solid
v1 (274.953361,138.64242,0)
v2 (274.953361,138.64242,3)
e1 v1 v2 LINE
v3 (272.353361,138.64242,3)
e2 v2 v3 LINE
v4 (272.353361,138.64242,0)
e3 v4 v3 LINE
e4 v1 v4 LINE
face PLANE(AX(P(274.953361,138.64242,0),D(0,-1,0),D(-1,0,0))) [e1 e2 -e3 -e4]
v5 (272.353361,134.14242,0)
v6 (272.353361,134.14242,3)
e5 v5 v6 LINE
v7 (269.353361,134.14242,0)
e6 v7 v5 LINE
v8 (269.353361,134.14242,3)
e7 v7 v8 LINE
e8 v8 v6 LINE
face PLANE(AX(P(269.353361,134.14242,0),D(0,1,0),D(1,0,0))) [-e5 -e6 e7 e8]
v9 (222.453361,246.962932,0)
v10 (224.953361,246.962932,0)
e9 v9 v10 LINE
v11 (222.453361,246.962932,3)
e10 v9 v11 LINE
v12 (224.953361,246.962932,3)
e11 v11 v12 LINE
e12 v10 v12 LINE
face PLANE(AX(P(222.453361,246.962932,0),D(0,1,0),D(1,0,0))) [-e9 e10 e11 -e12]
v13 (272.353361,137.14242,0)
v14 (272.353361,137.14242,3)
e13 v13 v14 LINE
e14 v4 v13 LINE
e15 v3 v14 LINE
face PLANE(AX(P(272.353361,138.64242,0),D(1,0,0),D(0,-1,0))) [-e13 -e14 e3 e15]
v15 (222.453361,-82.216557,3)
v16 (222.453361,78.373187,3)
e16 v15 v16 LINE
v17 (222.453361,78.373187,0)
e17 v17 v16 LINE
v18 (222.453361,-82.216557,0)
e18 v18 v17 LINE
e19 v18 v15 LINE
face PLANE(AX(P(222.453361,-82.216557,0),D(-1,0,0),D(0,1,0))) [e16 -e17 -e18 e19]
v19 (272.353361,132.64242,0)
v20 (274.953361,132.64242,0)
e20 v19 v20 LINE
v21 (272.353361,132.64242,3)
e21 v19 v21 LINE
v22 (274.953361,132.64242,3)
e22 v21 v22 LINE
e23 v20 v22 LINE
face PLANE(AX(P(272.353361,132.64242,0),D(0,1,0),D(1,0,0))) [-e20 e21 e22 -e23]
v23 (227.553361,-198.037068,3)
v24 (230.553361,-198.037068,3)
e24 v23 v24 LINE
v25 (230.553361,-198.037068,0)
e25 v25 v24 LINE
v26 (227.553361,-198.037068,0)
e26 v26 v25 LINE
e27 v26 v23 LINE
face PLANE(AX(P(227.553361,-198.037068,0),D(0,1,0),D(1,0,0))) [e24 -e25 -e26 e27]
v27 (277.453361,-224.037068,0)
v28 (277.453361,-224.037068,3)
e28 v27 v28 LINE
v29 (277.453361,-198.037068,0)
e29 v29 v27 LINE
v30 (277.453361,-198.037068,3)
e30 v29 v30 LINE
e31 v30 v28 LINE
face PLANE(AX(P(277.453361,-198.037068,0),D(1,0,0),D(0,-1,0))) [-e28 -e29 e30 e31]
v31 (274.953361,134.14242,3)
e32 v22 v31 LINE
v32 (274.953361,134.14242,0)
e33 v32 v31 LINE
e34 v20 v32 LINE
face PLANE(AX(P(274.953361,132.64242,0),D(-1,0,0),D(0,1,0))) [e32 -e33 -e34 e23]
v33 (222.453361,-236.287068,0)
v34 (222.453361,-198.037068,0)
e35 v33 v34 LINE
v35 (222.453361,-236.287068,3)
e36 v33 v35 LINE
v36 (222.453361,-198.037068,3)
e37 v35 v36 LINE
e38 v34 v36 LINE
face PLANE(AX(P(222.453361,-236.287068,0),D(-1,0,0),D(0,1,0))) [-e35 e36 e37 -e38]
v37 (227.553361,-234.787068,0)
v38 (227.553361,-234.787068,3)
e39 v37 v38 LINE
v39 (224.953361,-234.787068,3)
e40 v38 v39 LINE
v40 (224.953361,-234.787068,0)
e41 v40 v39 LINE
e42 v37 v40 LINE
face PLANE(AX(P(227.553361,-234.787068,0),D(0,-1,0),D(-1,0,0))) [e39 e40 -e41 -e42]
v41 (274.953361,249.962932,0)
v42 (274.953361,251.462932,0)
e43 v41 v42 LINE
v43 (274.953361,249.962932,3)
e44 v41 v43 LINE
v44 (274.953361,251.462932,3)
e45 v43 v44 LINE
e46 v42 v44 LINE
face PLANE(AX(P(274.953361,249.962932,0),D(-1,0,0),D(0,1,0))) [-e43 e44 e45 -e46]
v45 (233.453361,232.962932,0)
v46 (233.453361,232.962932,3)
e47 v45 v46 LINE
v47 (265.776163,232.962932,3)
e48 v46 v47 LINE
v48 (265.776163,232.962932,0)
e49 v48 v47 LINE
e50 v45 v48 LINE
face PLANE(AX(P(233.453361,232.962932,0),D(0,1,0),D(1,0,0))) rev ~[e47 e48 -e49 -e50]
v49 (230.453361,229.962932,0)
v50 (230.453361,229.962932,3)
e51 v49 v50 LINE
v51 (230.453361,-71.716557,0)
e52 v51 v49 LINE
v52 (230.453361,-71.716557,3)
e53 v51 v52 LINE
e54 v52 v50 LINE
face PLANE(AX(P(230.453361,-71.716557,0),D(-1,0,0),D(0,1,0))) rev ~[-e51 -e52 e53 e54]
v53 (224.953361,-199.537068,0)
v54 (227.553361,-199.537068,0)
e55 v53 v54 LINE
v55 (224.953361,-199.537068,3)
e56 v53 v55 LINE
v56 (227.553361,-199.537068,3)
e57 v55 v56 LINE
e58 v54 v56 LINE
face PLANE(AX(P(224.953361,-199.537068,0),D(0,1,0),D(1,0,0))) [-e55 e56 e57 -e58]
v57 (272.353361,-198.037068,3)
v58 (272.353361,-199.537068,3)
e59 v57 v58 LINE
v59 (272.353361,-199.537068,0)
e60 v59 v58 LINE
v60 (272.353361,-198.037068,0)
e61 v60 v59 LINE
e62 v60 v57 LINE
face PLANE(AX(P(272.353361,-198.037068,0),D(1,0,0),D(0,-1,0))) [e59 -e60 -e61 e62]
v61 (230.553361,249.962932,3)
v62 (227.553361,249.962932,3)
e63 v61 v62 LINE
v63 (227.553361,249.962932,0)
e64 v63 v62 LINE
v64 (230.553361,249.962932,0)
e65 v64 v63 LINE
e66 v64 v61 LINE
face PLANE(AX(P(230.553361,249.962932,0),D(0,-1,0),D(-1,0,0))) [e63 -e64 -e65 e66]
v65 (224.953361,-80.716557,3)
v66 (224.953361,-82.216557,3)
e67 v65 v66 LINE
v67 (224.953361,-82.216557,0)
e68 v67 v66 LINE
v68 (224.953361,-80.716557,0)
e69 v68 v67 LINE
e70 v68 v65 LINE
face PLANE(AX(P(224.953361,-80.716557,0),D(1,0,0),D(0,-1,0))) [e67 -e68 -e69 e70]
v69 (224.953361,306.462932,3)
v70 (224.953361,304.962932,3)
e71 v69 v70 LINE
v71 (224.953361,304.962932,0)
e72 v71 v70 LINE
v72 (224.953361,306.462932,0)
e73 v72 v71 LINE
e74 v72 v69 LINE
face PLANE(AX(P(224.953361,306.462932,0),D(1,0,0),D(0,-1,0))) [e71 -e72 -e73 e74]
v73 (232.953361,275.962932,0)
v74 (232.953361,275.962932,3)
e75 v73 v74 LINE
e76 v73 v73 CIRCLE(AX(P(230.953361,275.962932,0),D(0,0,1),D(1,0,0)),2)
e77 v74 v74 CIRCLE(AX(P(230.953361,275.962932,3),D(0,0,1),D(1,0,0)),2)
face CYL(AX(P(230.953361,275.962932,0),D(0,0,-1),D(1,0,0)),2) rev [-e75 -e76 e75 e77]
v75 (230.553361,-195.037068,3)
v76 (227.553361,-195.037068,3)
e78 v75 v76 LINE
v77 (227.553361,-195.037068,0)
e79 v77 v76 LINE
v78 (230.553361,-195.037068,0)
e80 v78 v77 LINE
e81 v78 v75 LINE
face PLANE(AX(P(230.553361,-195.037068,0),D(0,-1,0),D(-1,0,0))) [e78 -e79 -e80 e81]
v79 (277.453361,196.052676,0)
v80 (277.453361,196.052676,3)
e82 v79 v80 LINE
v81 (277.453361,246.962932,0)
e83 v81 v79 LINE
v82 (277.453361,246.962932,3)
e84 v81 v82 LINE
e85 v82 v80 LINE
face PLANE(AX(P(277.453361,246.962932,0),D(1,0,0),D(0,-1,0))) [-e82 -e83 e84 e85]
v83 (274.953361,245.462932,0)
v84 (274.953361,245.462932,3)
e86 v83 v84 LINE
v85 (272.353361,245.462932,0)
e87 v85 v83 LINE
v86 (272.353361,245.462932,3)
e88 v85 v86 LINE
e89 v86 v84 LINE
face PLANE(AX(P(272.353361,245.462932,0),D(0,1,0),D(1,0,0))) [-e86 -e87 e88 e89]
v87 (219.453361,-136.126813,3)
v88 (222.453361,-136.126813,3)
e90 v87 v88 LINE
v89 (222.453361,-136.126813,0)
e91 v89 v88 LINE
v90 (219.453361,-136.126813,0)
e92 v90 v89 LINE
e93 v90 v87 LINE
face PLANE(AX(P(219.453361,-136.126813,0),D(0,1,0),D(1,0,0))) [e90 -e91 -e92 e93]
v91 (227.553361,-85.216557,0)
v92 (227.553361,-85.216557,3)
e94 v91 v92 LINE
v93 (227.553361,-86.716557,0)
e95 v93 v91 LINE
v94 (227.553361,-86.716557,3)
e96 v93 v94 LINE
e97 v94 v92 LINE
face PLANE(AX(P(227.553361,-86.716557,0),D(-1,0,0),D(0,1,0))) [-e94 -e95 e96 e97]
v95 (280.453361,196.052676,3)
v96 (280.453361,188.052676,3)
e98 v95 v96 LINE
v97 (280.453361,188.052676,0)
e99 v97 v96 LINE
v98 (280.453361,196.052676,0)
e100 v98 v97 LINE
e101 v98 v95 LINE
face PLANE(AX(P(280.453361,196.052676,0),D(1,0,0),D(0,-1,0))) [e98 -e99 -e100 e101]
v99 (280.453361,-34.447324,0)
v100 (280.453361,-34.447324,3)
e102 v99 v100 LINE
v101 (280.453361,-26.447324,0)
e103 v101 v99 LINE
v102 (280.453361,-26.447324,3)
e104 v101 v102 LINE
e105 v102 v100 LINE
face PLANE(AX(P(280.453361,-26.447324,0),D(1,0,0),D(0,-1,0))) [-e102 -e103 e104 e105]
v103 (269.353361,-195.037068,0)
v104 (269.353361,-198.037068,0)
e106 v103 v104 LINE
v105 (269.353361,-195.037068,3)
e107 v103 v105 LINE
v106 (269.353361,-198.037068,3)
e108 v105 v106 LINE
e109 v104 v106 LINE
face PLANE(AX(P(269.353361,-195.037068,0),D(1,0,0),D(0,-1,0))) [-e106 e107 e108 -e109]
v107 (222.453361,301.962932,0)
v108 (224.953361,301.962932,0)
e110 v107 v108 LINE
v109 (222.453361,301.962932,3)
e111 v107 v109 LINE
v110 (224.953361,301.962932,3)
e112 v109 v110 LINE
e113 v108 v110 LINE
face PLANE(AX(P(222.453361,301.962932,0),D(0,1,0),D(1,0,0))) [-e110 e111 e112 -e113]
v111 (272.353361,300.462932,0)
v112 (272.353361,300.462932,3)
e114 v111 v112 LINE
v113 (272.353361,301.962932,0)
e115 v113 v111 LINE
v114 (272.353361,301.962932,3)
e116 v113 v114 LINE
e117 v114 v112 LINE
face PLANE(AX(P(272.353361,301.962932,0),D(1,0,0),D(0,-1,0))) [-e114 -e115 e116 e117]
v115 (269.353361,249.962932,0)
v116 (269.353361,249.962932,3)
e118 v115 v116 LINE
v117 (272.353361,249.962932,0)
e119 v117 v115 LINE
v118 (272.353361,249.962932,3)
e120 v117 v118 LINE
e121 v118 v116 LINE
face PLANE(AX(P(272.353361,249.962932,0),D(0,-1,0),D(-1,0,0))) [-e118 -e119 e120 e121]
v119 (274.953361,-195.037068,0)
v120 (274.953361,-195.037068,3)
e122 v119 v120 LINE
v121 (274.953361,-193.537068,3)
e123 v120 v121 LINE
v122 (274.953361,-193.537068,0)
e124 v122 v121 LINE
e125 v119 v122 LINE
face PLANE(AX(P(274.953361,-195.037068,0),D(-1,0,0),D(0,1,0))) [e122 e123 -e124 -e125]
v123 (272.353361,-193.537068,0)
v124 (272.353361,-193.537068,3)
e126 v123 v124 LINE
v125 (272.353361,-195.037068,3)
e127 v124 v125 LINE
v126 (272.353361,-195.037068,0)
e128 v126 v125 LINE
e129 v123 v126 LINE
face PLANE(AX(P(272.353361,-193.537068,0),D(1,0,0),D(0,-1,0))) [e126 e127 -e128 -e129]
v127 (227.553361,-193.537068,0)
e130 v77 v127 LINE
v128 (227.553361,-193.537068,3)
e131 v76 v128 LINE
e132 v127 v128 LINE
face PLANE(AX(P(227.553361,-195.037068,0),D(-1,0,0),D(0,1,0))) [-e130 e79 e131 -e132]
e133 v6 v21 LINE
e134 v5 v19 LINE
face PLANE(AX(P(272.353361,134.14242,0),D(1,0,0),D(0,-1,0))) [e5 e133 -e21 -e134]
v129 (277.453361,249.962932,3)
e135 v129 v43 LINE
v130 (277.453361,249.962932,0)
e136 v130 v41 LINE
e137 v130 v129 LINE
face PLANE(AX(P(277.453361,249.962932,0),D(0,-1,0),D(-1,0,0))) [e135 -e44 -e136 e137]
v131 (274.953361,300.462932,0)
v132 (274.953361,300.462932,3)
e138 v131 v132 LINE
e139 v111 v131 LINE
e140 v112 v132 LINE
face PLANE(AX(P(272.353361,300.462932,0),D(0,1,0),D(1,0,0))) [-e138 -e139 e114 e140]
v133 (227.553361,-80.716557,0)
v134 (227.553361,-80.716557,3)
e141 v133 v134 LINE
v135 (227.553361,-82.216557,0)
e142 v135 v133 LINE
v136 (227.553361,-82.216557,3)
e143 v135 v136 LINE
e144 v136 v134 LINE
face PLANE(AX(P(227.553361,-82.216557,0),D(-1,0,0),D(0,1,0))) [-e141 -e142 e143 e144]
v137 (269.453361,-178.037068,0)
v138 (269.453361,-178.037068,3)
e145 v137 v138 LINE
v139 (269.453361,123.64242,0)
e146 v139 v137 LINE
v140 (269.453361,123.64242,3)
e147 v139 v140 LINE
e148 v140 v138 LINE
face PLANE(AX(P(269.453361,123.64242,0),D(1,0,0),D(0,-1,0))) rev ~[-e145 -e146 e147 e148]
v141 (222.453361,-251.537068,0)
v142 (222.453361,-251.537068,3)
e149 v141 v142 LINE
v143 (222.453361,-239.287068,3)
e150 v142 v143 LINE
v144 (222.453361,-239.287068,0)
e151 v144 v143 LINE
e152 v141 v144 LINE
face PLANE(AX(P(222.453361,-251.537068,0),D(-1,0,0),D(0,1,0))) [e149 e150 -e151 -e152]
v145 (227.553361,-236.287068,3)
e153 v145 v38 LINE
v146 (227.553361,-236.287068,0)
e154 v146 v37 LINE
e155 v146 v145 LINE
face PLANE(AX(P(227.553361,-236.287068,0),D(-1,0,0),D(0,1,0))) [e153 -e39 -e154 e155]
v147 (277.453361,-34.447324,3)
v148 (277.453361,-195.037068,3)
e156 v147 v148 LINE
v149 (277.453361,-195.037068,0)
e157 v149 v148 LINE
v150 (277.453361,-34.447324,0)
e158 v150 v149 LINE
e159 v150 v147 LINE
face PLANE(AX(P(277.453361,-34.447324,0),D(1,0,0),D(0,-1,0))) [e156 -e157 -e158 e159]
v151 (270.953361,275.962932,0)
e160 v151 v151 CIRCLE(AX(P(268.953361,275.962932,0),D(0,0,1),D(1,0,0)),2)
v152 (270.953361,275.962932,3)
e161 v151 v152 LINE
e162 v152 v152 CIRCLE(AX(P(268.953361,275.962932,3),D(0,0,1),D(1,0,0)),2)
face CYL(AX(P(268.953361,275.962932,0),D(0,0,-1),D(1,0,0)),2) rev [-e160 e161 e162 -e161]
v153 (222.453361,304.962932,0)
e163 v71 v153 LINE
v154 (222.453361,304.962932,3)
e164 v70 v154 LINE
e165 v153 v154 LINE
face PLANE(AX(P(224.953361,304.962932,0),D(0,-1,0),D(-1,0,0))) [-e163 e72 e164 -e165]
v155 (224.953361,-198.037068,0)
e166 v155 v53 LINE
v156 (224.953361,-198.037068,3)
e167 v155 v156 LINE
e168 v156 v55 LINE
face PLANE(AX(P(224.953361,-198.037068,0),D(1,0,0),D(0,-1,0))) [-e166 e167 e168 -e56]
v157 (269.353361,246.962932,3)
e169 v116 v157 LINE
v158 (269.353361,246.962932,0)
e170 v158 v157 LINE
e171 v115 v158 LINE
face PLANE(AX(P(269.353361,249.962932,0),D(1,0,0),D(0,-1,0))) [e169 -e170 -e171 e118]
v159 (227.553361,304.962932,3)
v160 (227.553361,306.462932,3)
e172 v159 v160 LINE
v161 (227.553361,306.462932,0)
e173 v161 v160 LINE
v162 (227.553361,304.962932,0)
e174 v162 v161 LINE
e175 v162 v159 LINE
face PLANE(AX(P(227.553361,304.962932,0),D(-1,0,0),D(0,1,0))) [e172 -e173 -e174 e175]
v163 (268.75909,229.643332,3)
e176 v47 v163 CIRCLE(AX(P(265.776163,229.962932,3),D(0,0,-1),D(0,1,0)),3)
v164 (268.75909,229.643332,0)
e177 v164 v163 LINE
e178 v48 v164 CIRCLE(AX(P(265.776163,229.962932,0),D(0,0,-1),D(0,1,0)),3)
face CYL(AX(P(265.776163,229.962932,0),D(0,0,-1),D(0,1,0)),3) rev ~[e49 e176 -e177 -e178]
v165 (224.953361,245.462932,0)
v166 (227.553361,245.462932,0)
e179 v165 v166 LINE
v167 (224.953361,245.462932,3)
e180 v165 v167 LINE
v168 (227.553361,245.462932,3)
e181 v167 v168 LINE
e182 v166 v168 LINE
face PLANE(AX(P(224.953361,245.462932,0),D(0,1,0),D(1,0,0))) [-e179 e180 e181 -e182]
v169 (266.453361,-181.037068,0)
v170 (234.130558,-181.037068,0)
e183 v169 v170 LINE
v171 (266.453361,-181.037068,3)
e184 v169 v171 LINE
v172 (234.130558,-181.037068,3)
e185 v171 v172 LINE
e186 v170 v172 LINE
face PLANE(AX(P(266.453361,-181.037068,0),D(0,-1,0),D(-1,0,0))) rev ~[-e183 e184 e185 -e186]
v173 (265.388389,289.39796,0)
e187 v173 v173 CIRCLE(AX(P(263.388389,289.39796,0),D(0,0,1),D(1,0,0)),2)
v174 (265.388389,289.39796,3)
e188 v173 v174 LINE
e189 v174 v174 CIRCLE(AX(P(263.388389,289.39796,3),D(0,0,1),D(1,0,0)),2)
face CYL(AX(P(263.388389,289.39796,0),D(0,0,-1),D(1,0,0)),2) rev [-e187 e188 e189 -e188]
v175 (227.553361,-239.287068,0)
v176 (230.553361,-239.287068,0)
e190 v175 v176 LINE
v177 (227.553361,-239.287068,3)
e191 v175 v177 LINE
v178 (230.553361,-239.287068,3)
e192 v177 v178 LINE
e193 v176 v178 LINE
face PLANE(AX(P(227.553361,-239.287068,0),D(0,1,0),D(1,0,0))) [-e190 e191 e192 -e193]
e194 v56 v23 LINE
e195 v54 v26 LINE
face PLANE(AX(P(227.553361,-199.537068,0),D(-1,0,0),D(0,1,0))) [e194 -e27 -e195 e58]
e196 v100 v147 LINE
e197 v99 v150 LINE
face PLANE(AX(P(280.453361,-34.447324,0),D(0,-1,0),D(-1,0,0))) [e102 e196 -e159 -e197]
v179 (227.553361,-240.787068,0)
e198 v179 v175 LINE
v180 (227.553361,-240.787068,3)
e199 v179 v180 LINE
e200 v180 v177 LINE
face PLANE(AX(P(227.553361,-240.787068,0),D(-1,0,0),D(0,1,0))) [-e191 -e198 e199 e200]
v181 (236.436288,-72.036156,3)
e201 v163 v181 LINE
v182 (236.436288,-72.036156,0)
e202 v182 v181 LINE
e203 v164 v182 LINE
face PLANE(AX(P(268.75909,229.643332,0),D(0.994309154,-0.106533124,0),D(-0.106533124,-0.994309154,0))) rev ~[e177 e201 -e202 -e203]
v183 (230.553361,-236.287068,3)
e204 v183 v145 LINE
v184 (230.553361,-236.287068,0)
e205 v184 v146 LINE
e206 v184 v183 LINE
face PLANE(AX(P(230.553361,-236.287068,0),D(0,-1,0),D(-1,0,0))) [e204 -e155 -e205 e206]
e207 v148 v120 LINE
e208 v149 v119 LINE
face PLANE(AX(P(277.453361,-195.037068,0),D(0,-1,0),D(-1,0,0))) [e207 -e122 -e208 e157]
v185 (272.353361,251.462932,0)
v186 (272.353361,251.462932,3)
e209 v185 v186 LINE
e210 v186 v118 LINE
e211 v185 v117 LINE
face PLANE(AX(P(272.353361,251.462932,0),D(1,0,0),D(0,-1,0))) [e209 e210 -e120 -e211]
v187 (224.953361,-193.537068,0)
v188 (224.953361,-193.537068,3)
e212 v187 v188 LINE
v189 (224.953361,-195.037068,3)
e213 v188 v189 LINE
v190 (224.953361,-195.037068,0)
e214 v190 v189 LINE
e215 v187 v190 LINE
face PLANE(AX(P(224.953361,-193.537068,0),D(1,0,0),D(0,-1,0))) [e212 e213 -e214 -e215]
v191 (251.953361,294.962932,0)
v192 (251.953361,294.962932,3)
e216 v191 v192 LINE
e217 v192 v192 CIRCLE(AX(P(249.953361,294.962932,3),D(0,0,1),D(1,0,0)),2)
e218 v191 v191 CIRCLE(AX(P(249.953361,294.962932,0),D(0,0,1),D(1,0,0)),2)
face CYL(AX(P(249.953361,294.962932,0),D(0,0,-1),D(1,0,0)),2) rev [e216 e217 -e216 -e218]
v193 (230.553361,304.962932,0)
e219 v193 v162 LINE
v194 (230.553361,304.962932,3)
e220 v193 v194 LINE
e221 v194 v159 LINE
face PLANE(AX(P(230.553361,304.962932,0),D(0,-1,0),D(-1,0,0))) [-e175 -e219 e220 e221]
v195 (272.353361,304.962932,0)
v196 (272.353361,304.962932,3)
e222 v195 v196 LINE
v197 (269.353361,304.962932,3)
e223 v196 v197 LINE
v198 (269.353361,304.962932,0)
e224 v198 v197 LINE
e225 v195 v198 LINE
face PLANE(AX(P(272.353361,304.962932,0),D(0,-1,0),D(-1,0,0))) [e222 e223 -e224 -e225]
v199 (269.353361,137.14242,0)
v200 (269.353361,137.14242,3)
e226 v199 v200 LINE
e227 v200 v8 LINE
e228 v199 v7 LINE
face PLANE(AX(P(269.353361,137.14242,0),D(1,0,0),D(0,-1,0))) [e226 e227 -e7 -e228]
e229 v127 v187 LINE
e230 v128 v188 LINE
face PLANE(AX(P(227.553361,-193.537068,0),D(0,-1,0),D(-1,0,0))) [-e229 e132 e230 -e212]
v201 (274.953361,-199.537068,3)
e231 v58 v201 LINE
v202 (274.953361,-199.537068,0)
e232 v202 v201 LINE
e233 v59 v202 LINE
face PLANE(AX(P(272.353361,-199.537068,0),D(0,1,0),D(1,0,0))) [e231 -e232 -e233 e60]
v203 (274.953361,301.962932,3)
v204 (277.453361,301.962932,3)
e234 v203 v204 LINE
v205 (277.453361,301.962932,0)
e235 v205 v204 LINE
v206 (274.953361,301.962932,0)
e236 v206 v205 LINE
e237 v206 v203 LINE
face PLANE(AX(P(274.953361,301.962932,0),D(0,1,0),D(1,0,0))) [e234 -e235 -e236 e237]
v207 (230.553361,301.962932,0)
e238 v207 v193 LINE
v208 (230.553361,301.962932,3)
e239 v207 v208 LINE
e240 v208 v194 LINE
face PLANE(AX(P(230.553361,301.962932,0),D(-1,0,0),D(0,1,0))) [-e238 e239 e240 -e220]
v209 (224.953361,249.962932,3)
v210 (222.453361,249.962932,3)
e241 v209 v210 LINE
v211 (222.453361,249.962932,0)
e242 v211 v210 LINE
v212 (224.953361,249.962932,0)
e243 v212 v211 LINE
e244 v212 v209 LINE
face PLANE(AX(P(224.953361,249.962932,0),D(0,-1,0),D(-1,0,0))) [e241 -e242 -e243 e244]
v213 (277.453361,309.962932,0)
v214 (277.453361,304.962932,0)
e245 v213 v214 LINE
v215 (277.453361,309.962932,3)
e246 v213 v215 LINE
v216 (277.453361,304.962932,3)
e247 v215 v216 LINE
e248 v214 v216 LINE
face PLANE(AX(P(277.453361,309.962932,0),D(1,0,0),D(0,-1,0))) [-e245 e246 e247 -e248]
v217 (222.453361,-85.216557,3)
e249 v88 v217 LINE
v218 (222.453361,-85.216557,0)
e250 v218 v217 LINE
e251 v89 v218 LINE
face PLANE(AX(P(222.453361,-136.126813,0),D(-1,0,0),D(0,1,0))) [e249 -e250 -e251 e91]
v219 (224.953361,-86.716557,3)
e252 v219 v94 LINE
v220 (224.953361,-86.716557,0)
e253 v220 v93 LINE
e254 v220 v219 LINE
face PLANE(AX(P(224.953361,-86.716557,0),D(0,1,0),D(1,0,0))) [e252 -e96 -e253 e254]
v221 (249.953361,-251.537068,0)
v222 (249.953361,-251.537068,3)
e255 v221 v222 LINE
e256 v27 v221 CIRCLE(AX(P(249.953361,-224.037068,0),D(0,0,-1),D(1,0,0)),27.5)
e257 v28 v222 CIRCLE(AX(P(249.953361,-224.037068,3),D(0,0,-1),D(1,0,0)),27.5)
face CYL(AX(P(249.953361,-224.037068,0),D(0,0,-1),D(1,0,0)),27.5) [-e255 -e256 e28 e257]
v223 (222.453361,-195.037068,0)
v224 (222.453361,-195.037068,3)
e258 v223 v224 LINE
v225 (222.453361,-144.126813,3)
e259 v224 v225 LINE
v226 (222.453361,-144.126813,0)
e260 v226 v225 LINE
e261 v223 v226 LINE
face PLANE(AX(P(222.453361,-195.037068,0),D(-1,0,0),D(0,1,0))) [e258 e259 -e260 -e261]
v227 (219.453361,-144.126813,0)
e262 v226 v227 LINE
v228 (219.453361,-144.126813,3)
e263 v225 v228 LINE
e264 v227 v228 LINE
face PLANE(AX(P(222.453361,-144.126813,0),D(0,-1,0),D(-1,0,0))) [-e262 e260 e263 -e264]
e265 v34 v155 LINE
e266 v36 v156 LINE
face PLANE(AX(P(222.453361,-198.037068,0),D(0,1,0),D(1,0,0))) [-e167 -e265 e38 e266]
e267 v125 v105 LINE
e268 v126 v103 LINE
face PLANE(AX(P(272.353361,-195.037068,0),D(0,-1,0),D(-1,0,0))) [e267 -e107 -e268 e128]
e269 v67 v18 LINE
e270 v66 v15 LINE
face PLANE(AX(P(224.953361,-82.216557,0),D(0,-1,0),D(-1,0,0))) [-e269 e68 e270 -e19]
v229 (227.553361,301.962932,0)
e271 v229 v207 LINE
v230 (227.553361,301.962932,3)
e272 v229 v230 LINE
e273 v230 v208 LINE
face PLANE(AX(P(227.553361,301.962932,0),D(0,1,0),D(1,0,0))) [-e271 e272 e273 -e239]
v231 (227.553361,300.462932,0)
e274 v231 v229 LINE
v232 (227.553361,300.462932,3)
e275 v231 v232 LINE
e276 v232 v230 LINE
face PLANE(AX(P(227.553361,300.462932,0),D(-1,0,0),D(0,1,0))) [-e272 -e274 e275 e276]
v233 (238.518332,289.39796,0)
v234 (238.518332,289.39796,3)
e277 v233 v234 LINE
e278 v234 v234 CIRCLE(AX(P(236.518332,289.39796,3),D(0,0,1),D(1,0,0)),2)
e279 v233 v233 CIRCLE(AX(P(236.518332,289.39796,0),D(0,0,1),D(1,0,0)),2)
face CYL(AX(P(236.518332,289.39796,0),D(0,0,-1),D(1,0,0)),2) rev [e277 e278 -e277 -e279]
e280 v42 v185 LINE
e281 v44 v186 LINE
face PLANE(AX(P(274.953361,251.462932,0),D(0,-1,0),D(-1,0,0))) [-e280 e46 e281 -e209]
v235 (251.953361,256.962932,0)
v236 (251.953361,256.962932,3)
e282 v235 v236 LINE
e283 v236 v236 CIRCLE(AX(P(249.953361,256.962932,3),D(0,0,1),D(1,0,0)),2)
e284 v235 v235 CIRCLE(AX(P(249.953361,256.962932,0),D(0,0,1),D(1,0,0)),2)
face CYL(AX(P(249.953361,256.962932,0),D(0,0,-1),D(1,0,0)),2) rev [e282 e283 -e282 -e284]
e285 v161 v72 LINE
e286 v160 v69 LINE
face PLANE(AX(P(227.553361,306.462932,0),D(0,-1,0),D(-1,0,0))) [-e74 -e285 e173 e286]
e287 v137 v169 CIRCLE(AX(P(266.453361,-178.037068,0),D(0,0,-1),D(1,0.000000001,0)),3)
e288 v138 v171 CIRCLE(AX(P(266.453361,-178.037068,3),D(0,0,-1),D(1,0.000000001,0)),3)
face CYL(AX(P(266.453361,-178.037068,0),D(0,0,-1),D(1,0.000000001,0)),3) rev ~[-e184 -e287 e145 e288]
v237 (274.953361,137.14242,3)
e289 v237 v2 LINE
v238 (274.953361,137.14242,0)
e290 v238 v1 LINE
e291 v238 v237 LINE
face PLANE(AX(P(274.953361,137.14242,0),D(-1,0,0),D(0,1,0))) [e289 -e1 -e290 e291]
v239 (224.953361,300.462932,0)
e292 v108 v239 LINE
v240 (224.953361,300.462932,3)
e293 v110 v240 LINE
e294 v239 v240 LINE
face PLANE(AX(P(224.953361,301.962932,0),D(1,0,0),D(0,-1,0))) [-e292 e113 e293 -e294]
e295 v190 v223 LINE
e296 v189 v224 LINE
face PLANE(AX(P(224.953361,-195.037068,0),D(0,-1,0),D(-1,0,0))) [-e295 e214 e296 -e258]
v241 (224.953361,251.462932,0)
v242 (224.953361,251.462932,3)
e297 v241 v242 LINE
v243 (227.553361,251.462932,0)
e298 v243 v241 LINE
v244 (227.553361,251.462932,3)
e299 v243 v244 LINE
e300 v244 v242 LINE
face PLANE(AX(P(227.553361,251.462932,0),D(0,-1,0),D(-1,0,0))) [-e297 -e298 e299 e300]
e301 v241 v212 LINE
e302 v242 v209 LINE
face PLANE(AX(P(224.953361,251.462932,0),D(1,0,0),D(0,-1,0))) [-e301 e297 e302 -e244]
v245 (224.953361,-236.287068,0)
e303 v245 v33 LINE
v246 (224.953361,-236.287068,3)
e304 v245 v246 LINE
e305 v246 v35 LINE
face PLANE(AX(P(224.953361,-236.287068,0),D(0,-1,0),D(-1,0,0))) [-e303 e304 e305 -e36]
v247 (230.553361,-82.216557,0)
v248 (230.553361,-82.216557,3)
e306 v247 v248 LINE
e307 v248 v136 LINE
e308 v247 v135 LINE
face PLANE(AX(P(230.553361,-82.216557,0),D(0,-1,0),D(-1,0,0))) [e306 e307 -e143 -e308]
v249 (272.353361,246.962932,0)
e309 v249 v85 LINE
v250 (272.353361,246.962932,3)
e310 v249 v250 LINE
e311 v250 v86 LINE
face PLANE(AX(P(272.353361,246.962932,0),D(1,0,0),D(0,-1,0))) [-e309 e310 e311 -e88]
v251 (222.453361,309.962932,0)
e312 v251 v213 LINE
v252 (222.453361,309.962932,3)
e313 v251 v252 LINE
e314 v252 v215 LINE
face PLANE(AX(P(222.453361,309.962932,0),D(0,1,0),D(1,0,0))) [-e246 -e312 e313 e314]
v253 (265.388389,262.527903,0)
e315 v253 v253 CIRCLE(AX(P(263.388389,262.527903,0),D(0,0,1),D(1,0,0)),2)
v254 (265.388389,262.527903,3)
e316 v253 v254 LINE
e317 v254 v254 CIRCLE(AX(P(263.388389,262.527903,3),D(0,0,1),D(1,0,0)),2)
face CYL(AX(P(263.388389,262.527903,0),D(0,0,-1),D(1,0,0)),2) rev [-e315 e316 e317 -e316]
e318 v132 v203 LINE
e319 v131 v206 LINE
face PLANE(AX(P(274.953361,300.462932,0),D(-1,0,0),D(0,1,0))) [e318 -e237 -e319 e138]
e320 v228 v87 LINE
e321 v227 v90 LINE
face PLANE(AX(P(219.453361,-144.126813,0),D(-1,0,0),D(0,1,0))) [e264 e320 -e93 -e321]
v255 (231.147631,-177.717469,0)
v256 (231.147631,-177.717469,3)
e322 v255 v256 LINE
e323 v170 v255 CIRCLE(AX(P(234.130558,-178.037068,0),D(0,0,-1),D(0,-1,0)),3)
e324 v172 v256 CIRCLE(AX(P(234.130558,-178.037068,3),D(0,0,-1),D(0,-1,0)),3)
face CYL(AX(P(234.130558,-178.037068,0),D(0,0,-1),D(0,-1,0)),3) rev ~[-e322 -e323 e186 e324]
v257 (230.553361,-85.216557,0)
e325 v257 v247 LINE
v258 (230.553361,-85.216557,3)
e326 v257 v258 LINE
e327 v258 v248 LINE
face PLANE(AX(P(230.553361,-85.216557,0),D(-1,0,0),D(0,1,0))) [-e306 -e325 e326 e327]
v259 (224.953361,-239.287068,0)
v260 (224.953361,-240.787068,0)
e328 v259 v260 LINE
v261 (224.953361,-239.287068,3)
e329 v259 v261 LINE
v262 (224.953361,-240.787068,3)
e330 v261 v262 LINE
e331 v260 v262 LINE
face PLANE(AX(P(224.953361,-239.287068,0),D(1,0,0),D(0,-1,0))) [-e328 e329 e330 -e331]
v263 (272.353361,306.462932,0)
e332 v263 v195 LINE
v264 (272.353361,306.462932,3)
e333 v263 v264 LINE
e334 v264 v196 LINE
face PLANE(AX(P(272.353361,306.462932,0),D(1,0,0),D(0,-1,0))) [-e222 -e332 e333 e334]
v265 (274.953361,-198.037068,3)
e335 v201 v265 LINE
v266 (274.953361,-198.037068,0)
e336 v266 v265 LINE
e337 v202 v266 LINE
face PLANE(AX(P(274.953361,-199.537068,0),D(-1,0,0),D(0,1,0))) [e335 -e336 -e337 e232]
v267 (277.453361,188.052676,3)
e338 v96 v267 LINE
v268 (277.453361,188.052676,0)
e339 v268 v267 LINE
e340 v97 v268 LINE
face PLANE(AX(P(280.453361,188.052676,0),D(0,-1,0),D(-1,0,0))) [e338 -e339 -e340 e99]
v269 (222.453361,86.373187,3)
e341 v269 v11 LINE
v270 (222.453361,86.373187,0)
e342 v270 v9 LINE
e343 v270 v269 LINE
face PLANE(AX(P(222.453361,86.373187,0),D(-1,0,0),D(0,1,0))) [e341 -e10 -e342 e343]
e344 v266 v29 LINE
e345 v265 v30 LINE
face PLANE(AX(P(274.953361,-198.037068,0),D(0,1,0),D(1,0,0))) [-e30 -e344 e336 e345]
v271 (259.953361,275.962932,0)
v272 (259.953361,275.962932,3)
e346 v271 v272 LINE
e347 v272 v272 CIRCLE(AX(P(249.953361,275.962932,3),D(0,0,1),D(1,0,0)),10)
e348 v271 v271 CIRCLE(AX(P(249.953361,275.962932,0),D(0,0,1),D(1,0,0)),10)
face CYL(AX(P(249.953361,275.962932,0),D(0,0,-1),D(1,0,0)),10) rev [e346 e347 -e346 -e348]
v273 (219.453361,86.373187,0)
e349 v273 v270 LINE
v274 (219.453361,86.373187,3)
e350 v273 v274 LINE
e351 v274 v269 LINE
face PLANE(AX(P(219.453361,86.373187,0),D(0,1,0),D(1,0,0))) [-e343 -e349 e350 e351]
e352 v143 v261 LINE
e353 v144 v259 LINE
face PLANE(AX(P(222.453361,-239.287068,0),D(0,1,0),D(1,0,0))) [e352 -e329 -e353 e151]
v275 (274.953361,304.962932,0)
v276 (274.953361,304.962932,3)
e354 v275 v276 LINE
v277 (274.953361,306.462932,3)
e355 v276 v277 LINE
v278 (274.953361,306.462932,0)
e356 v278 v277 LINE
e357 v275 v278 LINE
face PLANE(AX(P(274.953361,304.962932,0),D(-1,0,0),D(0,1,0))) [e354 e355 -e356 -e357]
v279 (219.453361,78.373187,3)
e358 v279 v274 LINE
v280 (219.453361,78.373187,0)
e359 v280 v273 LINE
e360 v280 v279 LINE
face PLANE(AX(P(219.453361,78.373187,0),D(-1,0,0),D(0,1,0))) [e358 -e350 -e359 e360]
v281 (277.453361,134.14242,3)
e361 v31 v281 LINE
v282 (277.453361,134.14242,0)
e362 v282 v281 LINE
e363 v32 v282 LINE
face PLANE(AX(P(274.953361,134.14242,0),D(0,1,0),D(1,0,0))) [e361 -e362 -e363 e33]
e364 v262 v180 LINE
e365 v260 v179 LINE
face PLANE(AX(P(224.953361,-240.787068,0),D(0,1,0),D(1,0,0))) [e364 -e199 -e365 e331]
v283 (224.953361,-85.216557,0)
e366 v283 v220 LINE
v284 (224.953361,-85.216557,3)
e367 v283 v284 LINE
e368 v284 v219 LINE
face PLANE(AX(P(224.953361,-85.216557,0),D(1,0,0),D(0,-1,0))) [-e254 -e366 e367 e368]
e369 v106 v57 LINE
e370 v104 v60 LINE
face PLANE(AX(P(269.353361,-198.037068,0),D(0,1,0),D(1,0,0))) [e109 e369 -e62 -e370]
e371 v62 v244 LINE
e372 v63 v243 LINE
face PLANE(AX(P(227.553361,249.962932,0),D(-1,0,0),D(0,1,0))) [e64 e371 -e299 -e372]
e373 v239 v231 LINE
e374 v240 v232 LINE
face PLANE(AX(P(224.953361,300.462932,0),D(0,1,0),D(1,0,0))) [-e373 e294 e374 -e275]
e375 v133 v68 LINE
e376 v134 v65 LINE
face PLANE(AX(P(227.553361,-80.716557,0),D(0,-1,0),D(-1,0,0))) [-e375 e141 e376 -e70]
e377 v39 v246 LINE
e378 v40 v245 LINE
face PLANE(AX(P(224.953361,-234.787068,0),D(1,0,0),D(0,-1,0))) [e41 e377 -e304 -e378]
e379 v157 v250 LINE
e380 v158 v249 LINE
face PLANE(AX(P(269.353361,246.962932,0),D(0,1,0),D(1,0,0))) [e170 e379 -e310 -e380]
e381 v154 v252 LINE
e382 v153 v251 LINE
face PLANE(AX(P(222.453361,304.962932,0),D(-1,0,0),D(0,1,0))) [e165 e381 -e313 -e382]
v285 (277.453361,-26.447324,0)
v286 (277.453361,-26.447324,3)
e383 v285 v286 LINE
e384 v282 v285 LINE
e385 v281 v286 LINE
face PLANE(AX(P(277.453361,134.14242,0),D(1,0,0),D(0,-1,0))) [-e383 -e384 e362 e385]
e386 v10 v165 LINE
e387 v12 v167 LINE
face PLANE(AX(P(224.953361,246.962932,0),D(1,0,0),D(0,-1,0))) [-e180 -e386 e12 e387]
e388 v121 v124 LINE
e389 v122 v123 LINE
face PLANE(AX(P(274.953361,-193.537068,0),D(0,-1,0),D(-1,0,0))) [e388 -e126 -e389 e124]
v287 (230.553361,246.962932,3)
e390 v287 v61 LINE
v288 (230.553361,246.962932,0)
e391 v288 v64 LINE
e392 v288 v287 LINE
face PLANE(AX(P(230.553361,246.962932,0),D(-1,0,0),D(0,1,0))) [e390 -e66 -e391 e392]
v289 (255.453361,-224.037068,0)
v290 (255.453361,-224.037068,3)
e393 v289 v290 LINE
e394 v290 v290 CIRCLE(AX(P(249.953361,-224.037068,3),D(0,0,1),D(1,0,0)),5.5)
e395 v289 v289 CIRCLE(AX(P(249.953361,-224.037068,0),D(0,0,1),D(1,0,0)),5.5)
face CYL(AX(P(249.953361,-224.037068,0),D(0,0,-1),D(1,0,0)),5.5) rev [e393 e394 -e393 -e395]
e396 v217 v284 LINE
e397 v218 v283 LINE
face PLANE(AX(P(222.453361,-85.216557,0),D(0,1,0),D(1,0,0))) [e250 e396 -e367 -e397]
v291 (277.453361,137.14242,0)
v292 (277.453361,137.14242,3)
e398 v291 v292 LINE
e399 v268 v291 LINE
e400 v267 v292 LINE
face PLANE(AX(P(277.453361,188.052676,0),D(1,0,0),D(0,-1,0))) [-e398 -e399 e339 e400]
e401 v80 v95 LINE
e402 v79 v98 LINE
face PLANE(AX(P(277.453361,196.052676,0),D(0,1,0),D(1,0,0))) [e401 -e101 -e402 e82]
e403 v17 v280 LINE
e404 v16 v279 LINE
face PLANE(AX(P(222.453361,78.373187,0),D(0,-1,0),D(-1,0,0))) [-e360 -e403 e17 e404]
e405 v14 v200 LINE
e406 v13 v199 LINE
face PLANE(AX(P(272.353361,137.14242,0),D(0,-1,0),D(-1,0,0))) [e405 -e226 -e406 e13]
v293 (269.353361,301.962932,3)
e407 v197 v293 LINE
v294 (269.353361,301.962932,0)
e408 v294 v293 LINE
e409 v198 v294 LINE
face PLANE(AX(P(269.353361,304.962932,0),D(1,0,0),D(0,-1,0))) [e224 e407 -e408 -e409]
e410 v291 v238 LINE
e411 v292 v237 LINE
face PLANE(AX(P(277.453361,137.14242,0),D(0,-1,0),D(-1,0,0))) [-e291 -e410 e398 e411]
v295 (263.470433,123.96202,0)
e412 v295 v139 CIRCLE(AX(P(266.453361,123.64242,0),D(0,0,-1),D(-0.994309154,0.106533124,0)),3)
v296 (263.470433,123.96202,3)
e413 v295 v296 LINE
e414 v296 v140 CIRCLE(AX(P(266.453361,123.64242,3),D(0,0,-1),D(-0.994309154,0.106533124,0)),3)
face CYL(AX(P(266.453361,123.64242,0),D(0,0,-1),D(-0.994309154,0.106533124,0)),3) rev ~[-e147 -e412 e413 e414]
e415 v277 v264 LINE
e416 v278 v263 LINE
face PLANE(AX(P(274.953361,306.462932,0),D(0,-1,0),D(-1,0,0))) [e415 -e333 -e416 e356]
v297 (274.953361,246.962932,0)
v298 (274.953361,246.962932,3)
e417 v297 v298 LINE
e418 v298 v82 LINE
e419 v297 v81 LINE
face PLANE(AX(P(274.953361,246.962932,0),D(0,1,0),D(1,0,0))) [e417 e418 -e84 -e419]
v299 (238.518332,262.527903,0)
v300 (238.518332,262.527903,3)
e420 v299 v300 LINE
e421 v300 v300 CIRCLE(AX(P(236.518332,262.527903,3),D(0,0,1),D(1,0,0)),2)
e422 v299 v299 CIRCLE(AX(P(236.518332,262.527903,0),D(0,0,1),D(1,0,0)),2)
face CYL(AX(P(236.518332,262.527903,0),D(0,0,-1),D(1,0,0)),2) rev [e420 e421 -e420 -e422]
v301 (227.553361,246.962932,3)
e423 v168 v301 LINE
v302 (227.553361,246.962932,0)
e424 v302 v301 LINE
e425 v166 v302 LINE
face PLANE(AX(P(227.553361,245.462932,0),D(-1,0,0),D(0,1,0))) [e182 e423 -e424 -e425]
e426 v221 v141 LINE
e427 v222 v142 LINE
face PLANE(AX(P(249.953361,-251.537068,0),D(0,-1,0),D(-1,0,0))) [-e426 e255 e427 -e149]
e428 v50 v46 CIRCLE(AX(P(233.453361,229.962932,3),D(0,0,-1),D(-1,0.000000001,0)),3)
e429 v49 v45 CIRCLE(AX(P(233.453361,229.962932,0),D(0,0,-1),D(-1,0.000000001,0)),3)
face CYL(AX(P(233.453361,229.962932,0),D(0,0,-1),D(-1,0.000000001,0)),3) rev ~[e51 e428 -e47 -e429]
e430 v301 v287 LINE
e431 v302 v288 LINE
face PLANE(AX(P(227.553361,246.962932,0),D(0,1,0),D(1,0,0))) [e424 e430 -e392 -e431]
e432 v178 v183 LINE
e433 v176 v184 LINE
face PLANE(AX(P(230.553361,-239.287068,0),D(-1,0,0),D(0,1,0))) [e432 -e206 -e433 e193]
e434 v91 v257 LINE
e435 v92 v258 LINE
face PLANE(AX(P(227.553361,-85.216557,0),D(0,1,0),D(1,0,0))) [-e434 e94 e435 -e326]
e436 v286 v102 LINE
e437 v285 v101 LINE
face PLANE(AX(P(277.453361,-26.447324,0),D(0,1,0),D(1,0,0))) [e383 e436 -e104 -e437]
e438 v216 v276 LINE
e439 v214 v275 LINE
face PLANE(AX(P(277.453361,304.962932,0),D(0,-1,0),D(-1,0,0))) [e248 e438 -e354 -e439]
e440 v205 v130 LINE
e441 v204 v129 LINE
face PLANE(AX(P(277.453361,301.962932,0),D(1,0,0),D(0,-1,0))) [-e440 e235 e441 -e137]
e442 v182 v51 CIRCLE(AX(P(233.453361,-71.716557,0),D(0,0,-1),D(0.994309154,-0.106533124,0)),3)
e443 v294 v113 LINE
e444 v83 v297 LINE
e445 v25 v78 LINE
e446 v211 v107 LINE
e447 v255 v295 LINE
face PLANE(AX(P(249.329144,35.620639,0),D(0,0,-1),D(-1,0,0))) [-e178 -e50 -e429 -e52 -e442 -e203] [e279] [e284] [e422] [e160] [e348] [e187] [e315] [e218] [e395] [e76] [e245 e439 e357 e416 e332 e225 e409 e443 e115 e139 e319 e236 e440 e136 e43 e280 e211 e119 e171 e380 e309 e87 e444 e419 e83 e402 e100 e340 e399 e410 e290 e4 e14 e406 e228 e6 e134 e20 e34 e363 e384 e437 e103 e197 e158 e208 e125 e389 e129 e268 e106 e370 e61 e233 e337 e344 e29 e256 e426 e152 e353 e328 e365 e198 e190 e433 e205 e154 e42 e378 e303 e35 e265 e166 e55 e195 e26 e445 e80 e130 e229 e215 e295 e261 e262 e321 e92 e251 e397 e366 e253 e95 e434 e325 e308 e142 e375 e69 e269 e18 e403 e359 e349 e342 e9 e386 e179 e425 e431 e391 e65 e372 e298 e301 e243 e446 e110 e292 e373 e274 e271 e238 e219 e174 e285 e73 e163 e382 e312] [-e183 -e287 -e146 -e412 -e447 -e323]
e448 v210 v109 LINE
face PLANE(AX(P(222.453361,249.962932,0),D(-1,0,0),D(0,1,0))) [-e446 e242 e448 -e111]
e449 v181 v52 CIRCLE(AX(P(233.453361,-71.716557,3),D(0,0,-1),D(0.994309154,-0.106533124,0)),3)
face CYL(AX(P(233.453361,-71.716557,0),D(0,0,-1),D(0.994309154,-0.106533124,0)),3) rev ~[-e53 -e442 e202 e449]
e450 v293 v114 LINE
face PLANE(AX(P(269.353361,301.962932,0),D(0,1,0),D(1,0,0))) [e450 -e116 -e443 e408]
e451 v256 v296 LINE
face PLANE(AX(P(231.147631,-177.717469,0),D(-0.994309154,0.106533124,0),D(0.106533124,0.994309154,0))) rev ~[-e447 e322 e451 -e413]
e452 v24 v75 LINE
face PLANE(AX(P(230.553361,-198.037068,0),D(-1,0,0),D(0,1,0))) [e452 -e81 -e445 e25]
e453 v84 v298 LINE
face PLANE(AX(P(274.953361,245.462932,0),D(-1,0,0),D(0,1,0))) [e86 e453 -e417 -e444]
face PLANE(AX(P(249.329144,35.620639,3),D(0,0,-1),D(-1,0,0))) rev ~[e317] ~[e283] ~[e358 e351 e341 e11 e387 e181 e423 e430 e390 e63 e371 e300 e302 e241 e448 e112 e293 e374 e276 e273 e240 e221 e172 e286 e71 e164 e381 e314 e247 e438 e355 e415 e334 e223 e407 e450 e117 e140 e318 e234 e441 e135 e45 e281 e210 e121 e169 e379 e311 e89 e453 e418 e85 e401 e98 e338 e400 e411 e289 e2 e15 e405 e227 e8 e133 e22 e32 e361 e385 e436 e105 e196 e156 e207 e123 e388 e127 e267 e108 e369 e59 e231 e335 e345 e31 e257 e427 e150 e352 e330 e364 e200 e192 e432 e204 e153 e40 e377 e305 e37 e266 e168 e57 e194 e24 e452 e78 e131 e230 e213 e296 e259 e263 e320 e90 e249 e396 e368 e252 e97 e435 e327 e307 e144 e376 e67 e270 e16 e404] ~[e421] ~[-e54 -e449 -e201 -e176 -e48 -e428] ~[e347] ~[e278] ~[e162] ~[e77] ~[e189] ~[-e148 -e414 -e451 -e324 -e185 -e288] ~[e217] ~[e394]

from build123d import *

# Parameters (mm, degrees)
SKETCH_1_R      = 10
SKETCH_1_R_2    = 2
SKETCH_1_R_3    = 5.5
EXTRUDE_1_DEPTH = 3


with BuildPart() as part:
    # 草图1 → 凸台-拉伸1 (new body)
    with BuildSketch(Plane.XY):
        with BuildLine():
            Line((224.953360513, -85.216557036), (224.953360513, -86.716557036))
            Line((224.953360513, -86.716557036), (227.553360513, -86.716557036))
            Line((227.553360513, -86.716557036), (227.553360513, -85.216557036))
            Line((227.553360513, -85.216557036), (230.553360513, -85.216557036))
            Line((230.553360513, -85.216557036), (230.553360513, -82.216557036))
            Line((230.553360513, -82.216557036), (227.553360513, -82.216557036))
            Line((227.553360513, -82.216557036), (227.553360513, -80.716557036))
            Line((227.553360513, -80.716557036), (224.953360513, -80.716557036))
            Line((224.953360513, -80.716557036), (224.953360513, -82.216557036))
            Line((224.953360513, -82.216557036), (222.453360513, -82.216557036))
            Line((222.453360513, -82.216557036), (222.453360513, 78.373187283))
            Line((222.453360513, 78.373187283), (219.453360513, 78.373187283))
            Line((219.453360513, 78.373187283), (219.453360513, 82.373187283))
            Line((219.453360513, 82.373187283), (219.453360513, 86.373187283))
            Line((219.453360513, 86.373187283), (222.453360513, 86.373187283))
            Line((222.453360513, 86.373187283), (222.453360513, 246.962931603))
            Line((222.453360513, 246.962931603), (224.953360513, 246.962931603))
            Line((224.953360513, 246.962931603), (224.953360513, 245.462931603))
            Line((224.953360513, 245.462931603), (227.553360513, 245.462931603))
            Line((227.553360513, 245.462931603), (227.553360513, 246.962931603))
            Line((227.553360513, 246.962931603), (230.553360513, 246.962931603))
            Line((230.553360513, 246.962931603), (230.553360513, 249.962931603))
            Line((230.553360513, 249.962931603), (227.553360513, 249.962931603))
            Line((227.553360513, 249.962931603), (227.553360513, 251.462931603))
            Line((227.553360513, 251.462931603), (224.953360513, 251.462931603))
            Line((224.953360513, 251.462931603), (224.953360513, 249.962931603))
            Line((224.953360513, 249.962931603), (222.453360513, 249.962931603))
            Line((222.453360513, 249.962931603), (222.453360513, 275.962931603))
            Line((222.453360513, 275.962931603), (222.453360513, 301.962931603))
            Line((222.453360513, 301.962931603), (224.953360513, 301.962931603))
            Line((224.953360513, 301.962931603), (224.953360513, 300.462931603))
            Line((224.953360513, 300.462931603), (227.553360513, 300.462931603))
            Line((227.553360513, 300.462931603), (227.553360513, 301.962931603))
            Line((227.553360513, 301.962931603), (230.553360513, 301.962931603))
            Line((230.553360513, 301.962931603), (230.553360513, 304.962931603))
            Line((230.553360513, 304.962931603), (227.553360513, 304.962931603))
            Line((227.553360513, 304.962931603), (227.553360513, 306.462931603))
            Line((227.553360513, 306.462931603), (224.953360513, 306.462931603))
            Line((224.953360513, 306.462931603), (224.953360513, 304.962931603))
            Line((224.953360513, 304.962931603), (222.453360513, 304.962931603))
            Line((222.453360513, 304.962931603), (222.453360513, 309.962931603))
            Line((222.453360513, 309.962931603), (277.453360513, 309.962931603))
            Line((277.453360513, 309.962931603), (277.453360513, 304.962931603))
            Line((277.453360513, 304.962931603), (274.953360513, 304.962931603))
            Line((274.953360513, 304.962931603), (274.953360513, 306.462931603))
            Line((274.953360513, 306.462931603), (272.353360513, 306.462931603))
            Line((272.353360513, 306.462931603), (272.353360513, 304.962931603))
            Line((272.353360513, 304.962931603), (269.353360513, 304.962931603))
            Line((269.353360513, 304.962931603), (269.353360513, 301.962931603))
            Line((269.353360513, 301.962931603), (272.353360513, 301.962931603))
            Line((272.353360513, 301.962931603), (272.353360513, 300.462931603))
            Line((272.353360513, 300.462931603), (274.953360513, 300.462931603))
            Line((274.953360513, 300.462931603), (274.953360513, 301.962931603))
            Line((274.953360513, 301.962931603), (277.453360513, 301.962931603))
            Line((277.453360513, 301.962931603), (277.453360513, 249.962931603))
            Line((277.453360513, 249.962931603), (274.953360513, 249.962931603))
            Line((274.953360513, 249.962931603), (274.953360513, 251.462931603))
            Line((274.953360513, 251.462931603), (272.353360513, 251.462931603))
            Line((272.353360513, 251.462931603), (272.353360513, 249.962931603))
            Line((272.353360513, 249.962931603), (269.353360513, 249.962931603))
            Line((269.353360513, 249.962931603), (269.353360513, 246.962931603))
            Line((269.353360513, 246.962931603), (272.353360513, 246.962931603))
            Line((272.353360513, 246.962931603), (272.353360513, 245.462931603))
            Line((272.353360513, 245.462931603), (274.953360513, 245.462931603))
            Line((274.953360513, 245.462931603), (274.953360513, 246.962931603))
            Line((274.953360513, 246.962931603), (277.453360513, 246.962931603))
            Line((277.453360513, 246.962931603), (277.453360513, 196.052675922))
            Line((277.453360513, 196.052675922), (280.453360513, 196.052675922))
            Line((280.453360513, 196.052675922), (280.453360513, 192.052675922))
            Line((280.453360513, 192.052675922), (280.453360513, 188.052675922))
            Line((280.453360513, 188.052675922), (277.453360513, 188.052675922))
            Line((277.453360513, 188.052675922), (277.453360513, 137.142420241))
            Line((277.453360513, 137.142420241), (274.953360513, 137.142420241))
            Line((274.953360513, 137.142420241), (274.953360513, 138.642420241))
            Line((274.953360513, 138.642420241), (272.353360513, 138.642420241))
            Line((272.353360513, 138.642420241), (272.353360513, 137.142420241))
            Line((272.353360513, 137.142420241), (269.353360513, 137.142420241))
            Line((269.353360513, 137.142420241), (269.353360513, 134.142420241))
            Line((269.353360513, 134.142420241), (272.353360513, 134.142420241))
            Line((272.353360513, 134.142420241), (272.353360513, 132.642420241))
            Line((272.353360513, 132.642420241), (274.953360513, 132.642420241))
            Line((274.953360513, 132.642420241), (274.953360513, 134.142420241))
            Line((274.953360513, 134.142420241), (277.453360513, 134.142420241))
            Line((277.453360513, 134.142420241), (277.453360513, -26.447324078))
            Line((277.453360513, -26.447324078), (280.453360513, -26.447324078))
            Line((280.453360513, -26.447324078), (280.453360513, -30.447324078))
            Line((280.453360513, -30.447324078), (280.453360513, -34.447324078))
            Line((280.453360513, -34.447324078), (277.453360513, -34.447324078))
            Line((277.453360513, -34.447324078), (277.453360513, -195.037068397))
            Line((277.453360513, -195.037068397), (274.953360513, -195.037068397))
            Line((274.953360513, -195.037068397), (274.953360513, -193.537068397))
            Line((274.953360513, -193.537068397), (272.353360513, -193.537068397))
            Line((272.353360513, -193.537068397), (272.353360513, -195.037068397))
            Line((272.353360513, -195.037068397), (269.353360513, -195.037068397))
            Line((269.353360513, -195.037068397), (269.353360513, -198.037068397))
            Line((269.353360513, -198.037068397), (272.353360513, -198.037068397))
            Line((272.353360513, -198.037068397), (272.353360513, -199.537068397))
            Line((272.353360513, -199.537068397), (274.953360513, -199.537068397))
            Line((274.953360513, -199.537068397), (274.953360513, -198.037068397))
            Line((274.953360513, -198.037068397), (277.453360513, -198.037068397))
            Line((277.453360513, -198.037068397), (277.453360513, -224.037068397))
            ThreePointArc((277.453360513, -224.037068397), (269.398796996, -243.48250488), (249.953360513, -251.537068397))
            Line((249.953360513, -251.537068397), (222.453360513, -251.537068397))
            Line((222.453360513, -251.537068397), (222.453360513, -239.287068397))
            Line((222.453360513, -239.287068397), (224.953360513, -239.287068397))
            Line((224.953360513, -239.287068397), (224.953360513, -240.787068397))
            Line((224.953360513, -240.787068397), (227.553360513, -240.787068397))
            Line((227.553360513, -240.787068397), (227.553360513, -239.287068397))
            Line((227.553360513, -239.287068397), (230.553360513, -239.287068397))
            Line((230.553360513, -239.287068397), (230.553360513, -236.287068397))
            Line((230.553360513, -236.287068397), (227.553360513, -236.287068397))
            Line((227.553360513, -236.287068397), (227.553360513, -234.787068397))
            Line((227.553360513, -234.787068397), (224.953360513, -234.787068397))
            Line((224.953360513, -234.787068397), (224.953360513, -236.287068397))
            Line((224.953360513, -236.287068397), (222.453360513, -236.287068397))
            Line((222.453360513, -236.287068397), (222.453360513, -224.037068397))
            Line((222.453360513, -224.037068397), (222.453360513, -198.037068397))
            Line((222.453360513, -198.037068397), (224.953360513, -198.037068397))
            Line((224.953360513, -198.037068397), (224.953360513, -199.537068397))
            Line((224.953360513, -199.537068397), (227.553360513, -199.537068397))
            Line((227.553360513, -199.537068397), (227.553360513, -198.037068397))
            Line((227.553360513, -198.037068397), (230.553360513, -198.037068397))
            Line((230.553360513, -198.037068397), (230.553360513, -195.037068397))
            Line((230.553360513, -195.037068397), (227.553360513, -195.037068397))
            Line((227.553360513, -195.037068397), (227.553360513, -193.537068397))
            Line((227.553360513, -193.537068397), (224.953360513, -193.537068397))
            Line((224.953360513, -193.537068397), (224.953360513, -195.037068397))
            Line((224.953360513, -195.037068397), (222.453360513, -195.037068397))
            Line((222.453360513, -195.037068397), (222.453360513, -144.126812717))
            Line((222.453360513, -144.126812717), (219.453360513, -144.126812717))
            Line((219.453360513, -144.126812717), (219.453360513, -140.126812717))
            Line((219.453360513, -140.126812717), (219.453360513, -136.126812717))
            Line((219.453360513, -136.126812717), (222.453360513, -136.126812717))
            Line((222.453360513, -136.126812717), (222.453360513, -85.216557036))
            Line((222.453360513, -85.216557036), (224.953360513, -85.216557036))
        make_face()
        with Locations((249.953360513, 275.962931603)):
            Circle(SKETCH_1_R, mode=Mode.SUBTRACT)
        with Locations((230.953360513, 275.962931603)):
            Circle(SKETCH_1_R_2, mode=Mode.SUBTRACT)
        with Locations((236.518331671, 289.397960445)):
            Circle(SKETCH_1_R_2, mode=Mode.SUBTRACT)
        with Locations((249.953360513, 294.962931603)):
            Circle(SKETCH_1_R_2, mode=Mode.SUBTRACT)
        with Locations((263.388389356, 289.397960445)):
            Circle(SKETCH_1_R_2, mode=Mode.SUBTRACT)
        with Locations((268.953360513, 275.962931603)):
            Circle(SKETCH_1_R_2, mode=Mode.SUBTRACT)
        with Locations((263.388389356, 262.52790276)):
            Circle(SKETCH_1_R_2, mode=Mode.SUBTRACT)
        with Locations((249.953360513, 256.962931603)):
            Circle(SKETCH_1_R_2, mode=Mode.SUBTRACT)
        with Locations((236.518331671, 262.52790276)):
            Circle(SKETCH_1_R_2, mode=Mode.SUBTRACT)
        with Locations((249.953360513, -224.037068397)):
            Circle(SKETCH_1_R_3, mode=Mode.SUBTRACT)
        with BuildLine():
            Line((233.453360513, 232.962931603), (265.776162867, 232.962931603))
            ThreePointArc((265.776162867, 232.962931603), (268.007619579, 231.968075224), (268.759090329, 229.643332232))
            Line((268.759090329, 229.643332232), (236.436287975, -72.036156407))
            ThreePointArc((236.436287975, -72.036156407), (233.293332993, -74.712285861), (230.453360513, -71.716557036))
            Line((230.453360513, -71.716557036), (230.453360513, 229.962931603))
            ThreePointArc((230.453360513, 229.962931603), (231.33204017, 232.084251946), (233.453360513, 232.962931603))
        make_face(mode=Mode.SUBTRACT)
        with BuildLine():
            Line((269.453360513, 123.642420241), (269.453360513, -178.037068397))
            ThreePointArc((269.453360513, -178.037068397), (268.574680857, -180.158388741), (266.453360513, -181.037068397))
            Line((266.453360513, -181.037068397), (234.130558159, -181.037068397))
            ThreePointArc((234.130558159, -181.037068397), (231.899101447, -180.042212019), (231.147630697, -177.717469026))
            Line((231.147630697, -177.717469026), (263.470433052, 123.962019612))
            ThreePointArc((263.470433052, 123.962019612), (266.613388034, 126.638149066), (269.453360513, 123.642420241))
        make_face(mode=Mode.SUBTRACT)
    extrude(amount=EXTRUDE_1_DEPTH)


solid = part.part
